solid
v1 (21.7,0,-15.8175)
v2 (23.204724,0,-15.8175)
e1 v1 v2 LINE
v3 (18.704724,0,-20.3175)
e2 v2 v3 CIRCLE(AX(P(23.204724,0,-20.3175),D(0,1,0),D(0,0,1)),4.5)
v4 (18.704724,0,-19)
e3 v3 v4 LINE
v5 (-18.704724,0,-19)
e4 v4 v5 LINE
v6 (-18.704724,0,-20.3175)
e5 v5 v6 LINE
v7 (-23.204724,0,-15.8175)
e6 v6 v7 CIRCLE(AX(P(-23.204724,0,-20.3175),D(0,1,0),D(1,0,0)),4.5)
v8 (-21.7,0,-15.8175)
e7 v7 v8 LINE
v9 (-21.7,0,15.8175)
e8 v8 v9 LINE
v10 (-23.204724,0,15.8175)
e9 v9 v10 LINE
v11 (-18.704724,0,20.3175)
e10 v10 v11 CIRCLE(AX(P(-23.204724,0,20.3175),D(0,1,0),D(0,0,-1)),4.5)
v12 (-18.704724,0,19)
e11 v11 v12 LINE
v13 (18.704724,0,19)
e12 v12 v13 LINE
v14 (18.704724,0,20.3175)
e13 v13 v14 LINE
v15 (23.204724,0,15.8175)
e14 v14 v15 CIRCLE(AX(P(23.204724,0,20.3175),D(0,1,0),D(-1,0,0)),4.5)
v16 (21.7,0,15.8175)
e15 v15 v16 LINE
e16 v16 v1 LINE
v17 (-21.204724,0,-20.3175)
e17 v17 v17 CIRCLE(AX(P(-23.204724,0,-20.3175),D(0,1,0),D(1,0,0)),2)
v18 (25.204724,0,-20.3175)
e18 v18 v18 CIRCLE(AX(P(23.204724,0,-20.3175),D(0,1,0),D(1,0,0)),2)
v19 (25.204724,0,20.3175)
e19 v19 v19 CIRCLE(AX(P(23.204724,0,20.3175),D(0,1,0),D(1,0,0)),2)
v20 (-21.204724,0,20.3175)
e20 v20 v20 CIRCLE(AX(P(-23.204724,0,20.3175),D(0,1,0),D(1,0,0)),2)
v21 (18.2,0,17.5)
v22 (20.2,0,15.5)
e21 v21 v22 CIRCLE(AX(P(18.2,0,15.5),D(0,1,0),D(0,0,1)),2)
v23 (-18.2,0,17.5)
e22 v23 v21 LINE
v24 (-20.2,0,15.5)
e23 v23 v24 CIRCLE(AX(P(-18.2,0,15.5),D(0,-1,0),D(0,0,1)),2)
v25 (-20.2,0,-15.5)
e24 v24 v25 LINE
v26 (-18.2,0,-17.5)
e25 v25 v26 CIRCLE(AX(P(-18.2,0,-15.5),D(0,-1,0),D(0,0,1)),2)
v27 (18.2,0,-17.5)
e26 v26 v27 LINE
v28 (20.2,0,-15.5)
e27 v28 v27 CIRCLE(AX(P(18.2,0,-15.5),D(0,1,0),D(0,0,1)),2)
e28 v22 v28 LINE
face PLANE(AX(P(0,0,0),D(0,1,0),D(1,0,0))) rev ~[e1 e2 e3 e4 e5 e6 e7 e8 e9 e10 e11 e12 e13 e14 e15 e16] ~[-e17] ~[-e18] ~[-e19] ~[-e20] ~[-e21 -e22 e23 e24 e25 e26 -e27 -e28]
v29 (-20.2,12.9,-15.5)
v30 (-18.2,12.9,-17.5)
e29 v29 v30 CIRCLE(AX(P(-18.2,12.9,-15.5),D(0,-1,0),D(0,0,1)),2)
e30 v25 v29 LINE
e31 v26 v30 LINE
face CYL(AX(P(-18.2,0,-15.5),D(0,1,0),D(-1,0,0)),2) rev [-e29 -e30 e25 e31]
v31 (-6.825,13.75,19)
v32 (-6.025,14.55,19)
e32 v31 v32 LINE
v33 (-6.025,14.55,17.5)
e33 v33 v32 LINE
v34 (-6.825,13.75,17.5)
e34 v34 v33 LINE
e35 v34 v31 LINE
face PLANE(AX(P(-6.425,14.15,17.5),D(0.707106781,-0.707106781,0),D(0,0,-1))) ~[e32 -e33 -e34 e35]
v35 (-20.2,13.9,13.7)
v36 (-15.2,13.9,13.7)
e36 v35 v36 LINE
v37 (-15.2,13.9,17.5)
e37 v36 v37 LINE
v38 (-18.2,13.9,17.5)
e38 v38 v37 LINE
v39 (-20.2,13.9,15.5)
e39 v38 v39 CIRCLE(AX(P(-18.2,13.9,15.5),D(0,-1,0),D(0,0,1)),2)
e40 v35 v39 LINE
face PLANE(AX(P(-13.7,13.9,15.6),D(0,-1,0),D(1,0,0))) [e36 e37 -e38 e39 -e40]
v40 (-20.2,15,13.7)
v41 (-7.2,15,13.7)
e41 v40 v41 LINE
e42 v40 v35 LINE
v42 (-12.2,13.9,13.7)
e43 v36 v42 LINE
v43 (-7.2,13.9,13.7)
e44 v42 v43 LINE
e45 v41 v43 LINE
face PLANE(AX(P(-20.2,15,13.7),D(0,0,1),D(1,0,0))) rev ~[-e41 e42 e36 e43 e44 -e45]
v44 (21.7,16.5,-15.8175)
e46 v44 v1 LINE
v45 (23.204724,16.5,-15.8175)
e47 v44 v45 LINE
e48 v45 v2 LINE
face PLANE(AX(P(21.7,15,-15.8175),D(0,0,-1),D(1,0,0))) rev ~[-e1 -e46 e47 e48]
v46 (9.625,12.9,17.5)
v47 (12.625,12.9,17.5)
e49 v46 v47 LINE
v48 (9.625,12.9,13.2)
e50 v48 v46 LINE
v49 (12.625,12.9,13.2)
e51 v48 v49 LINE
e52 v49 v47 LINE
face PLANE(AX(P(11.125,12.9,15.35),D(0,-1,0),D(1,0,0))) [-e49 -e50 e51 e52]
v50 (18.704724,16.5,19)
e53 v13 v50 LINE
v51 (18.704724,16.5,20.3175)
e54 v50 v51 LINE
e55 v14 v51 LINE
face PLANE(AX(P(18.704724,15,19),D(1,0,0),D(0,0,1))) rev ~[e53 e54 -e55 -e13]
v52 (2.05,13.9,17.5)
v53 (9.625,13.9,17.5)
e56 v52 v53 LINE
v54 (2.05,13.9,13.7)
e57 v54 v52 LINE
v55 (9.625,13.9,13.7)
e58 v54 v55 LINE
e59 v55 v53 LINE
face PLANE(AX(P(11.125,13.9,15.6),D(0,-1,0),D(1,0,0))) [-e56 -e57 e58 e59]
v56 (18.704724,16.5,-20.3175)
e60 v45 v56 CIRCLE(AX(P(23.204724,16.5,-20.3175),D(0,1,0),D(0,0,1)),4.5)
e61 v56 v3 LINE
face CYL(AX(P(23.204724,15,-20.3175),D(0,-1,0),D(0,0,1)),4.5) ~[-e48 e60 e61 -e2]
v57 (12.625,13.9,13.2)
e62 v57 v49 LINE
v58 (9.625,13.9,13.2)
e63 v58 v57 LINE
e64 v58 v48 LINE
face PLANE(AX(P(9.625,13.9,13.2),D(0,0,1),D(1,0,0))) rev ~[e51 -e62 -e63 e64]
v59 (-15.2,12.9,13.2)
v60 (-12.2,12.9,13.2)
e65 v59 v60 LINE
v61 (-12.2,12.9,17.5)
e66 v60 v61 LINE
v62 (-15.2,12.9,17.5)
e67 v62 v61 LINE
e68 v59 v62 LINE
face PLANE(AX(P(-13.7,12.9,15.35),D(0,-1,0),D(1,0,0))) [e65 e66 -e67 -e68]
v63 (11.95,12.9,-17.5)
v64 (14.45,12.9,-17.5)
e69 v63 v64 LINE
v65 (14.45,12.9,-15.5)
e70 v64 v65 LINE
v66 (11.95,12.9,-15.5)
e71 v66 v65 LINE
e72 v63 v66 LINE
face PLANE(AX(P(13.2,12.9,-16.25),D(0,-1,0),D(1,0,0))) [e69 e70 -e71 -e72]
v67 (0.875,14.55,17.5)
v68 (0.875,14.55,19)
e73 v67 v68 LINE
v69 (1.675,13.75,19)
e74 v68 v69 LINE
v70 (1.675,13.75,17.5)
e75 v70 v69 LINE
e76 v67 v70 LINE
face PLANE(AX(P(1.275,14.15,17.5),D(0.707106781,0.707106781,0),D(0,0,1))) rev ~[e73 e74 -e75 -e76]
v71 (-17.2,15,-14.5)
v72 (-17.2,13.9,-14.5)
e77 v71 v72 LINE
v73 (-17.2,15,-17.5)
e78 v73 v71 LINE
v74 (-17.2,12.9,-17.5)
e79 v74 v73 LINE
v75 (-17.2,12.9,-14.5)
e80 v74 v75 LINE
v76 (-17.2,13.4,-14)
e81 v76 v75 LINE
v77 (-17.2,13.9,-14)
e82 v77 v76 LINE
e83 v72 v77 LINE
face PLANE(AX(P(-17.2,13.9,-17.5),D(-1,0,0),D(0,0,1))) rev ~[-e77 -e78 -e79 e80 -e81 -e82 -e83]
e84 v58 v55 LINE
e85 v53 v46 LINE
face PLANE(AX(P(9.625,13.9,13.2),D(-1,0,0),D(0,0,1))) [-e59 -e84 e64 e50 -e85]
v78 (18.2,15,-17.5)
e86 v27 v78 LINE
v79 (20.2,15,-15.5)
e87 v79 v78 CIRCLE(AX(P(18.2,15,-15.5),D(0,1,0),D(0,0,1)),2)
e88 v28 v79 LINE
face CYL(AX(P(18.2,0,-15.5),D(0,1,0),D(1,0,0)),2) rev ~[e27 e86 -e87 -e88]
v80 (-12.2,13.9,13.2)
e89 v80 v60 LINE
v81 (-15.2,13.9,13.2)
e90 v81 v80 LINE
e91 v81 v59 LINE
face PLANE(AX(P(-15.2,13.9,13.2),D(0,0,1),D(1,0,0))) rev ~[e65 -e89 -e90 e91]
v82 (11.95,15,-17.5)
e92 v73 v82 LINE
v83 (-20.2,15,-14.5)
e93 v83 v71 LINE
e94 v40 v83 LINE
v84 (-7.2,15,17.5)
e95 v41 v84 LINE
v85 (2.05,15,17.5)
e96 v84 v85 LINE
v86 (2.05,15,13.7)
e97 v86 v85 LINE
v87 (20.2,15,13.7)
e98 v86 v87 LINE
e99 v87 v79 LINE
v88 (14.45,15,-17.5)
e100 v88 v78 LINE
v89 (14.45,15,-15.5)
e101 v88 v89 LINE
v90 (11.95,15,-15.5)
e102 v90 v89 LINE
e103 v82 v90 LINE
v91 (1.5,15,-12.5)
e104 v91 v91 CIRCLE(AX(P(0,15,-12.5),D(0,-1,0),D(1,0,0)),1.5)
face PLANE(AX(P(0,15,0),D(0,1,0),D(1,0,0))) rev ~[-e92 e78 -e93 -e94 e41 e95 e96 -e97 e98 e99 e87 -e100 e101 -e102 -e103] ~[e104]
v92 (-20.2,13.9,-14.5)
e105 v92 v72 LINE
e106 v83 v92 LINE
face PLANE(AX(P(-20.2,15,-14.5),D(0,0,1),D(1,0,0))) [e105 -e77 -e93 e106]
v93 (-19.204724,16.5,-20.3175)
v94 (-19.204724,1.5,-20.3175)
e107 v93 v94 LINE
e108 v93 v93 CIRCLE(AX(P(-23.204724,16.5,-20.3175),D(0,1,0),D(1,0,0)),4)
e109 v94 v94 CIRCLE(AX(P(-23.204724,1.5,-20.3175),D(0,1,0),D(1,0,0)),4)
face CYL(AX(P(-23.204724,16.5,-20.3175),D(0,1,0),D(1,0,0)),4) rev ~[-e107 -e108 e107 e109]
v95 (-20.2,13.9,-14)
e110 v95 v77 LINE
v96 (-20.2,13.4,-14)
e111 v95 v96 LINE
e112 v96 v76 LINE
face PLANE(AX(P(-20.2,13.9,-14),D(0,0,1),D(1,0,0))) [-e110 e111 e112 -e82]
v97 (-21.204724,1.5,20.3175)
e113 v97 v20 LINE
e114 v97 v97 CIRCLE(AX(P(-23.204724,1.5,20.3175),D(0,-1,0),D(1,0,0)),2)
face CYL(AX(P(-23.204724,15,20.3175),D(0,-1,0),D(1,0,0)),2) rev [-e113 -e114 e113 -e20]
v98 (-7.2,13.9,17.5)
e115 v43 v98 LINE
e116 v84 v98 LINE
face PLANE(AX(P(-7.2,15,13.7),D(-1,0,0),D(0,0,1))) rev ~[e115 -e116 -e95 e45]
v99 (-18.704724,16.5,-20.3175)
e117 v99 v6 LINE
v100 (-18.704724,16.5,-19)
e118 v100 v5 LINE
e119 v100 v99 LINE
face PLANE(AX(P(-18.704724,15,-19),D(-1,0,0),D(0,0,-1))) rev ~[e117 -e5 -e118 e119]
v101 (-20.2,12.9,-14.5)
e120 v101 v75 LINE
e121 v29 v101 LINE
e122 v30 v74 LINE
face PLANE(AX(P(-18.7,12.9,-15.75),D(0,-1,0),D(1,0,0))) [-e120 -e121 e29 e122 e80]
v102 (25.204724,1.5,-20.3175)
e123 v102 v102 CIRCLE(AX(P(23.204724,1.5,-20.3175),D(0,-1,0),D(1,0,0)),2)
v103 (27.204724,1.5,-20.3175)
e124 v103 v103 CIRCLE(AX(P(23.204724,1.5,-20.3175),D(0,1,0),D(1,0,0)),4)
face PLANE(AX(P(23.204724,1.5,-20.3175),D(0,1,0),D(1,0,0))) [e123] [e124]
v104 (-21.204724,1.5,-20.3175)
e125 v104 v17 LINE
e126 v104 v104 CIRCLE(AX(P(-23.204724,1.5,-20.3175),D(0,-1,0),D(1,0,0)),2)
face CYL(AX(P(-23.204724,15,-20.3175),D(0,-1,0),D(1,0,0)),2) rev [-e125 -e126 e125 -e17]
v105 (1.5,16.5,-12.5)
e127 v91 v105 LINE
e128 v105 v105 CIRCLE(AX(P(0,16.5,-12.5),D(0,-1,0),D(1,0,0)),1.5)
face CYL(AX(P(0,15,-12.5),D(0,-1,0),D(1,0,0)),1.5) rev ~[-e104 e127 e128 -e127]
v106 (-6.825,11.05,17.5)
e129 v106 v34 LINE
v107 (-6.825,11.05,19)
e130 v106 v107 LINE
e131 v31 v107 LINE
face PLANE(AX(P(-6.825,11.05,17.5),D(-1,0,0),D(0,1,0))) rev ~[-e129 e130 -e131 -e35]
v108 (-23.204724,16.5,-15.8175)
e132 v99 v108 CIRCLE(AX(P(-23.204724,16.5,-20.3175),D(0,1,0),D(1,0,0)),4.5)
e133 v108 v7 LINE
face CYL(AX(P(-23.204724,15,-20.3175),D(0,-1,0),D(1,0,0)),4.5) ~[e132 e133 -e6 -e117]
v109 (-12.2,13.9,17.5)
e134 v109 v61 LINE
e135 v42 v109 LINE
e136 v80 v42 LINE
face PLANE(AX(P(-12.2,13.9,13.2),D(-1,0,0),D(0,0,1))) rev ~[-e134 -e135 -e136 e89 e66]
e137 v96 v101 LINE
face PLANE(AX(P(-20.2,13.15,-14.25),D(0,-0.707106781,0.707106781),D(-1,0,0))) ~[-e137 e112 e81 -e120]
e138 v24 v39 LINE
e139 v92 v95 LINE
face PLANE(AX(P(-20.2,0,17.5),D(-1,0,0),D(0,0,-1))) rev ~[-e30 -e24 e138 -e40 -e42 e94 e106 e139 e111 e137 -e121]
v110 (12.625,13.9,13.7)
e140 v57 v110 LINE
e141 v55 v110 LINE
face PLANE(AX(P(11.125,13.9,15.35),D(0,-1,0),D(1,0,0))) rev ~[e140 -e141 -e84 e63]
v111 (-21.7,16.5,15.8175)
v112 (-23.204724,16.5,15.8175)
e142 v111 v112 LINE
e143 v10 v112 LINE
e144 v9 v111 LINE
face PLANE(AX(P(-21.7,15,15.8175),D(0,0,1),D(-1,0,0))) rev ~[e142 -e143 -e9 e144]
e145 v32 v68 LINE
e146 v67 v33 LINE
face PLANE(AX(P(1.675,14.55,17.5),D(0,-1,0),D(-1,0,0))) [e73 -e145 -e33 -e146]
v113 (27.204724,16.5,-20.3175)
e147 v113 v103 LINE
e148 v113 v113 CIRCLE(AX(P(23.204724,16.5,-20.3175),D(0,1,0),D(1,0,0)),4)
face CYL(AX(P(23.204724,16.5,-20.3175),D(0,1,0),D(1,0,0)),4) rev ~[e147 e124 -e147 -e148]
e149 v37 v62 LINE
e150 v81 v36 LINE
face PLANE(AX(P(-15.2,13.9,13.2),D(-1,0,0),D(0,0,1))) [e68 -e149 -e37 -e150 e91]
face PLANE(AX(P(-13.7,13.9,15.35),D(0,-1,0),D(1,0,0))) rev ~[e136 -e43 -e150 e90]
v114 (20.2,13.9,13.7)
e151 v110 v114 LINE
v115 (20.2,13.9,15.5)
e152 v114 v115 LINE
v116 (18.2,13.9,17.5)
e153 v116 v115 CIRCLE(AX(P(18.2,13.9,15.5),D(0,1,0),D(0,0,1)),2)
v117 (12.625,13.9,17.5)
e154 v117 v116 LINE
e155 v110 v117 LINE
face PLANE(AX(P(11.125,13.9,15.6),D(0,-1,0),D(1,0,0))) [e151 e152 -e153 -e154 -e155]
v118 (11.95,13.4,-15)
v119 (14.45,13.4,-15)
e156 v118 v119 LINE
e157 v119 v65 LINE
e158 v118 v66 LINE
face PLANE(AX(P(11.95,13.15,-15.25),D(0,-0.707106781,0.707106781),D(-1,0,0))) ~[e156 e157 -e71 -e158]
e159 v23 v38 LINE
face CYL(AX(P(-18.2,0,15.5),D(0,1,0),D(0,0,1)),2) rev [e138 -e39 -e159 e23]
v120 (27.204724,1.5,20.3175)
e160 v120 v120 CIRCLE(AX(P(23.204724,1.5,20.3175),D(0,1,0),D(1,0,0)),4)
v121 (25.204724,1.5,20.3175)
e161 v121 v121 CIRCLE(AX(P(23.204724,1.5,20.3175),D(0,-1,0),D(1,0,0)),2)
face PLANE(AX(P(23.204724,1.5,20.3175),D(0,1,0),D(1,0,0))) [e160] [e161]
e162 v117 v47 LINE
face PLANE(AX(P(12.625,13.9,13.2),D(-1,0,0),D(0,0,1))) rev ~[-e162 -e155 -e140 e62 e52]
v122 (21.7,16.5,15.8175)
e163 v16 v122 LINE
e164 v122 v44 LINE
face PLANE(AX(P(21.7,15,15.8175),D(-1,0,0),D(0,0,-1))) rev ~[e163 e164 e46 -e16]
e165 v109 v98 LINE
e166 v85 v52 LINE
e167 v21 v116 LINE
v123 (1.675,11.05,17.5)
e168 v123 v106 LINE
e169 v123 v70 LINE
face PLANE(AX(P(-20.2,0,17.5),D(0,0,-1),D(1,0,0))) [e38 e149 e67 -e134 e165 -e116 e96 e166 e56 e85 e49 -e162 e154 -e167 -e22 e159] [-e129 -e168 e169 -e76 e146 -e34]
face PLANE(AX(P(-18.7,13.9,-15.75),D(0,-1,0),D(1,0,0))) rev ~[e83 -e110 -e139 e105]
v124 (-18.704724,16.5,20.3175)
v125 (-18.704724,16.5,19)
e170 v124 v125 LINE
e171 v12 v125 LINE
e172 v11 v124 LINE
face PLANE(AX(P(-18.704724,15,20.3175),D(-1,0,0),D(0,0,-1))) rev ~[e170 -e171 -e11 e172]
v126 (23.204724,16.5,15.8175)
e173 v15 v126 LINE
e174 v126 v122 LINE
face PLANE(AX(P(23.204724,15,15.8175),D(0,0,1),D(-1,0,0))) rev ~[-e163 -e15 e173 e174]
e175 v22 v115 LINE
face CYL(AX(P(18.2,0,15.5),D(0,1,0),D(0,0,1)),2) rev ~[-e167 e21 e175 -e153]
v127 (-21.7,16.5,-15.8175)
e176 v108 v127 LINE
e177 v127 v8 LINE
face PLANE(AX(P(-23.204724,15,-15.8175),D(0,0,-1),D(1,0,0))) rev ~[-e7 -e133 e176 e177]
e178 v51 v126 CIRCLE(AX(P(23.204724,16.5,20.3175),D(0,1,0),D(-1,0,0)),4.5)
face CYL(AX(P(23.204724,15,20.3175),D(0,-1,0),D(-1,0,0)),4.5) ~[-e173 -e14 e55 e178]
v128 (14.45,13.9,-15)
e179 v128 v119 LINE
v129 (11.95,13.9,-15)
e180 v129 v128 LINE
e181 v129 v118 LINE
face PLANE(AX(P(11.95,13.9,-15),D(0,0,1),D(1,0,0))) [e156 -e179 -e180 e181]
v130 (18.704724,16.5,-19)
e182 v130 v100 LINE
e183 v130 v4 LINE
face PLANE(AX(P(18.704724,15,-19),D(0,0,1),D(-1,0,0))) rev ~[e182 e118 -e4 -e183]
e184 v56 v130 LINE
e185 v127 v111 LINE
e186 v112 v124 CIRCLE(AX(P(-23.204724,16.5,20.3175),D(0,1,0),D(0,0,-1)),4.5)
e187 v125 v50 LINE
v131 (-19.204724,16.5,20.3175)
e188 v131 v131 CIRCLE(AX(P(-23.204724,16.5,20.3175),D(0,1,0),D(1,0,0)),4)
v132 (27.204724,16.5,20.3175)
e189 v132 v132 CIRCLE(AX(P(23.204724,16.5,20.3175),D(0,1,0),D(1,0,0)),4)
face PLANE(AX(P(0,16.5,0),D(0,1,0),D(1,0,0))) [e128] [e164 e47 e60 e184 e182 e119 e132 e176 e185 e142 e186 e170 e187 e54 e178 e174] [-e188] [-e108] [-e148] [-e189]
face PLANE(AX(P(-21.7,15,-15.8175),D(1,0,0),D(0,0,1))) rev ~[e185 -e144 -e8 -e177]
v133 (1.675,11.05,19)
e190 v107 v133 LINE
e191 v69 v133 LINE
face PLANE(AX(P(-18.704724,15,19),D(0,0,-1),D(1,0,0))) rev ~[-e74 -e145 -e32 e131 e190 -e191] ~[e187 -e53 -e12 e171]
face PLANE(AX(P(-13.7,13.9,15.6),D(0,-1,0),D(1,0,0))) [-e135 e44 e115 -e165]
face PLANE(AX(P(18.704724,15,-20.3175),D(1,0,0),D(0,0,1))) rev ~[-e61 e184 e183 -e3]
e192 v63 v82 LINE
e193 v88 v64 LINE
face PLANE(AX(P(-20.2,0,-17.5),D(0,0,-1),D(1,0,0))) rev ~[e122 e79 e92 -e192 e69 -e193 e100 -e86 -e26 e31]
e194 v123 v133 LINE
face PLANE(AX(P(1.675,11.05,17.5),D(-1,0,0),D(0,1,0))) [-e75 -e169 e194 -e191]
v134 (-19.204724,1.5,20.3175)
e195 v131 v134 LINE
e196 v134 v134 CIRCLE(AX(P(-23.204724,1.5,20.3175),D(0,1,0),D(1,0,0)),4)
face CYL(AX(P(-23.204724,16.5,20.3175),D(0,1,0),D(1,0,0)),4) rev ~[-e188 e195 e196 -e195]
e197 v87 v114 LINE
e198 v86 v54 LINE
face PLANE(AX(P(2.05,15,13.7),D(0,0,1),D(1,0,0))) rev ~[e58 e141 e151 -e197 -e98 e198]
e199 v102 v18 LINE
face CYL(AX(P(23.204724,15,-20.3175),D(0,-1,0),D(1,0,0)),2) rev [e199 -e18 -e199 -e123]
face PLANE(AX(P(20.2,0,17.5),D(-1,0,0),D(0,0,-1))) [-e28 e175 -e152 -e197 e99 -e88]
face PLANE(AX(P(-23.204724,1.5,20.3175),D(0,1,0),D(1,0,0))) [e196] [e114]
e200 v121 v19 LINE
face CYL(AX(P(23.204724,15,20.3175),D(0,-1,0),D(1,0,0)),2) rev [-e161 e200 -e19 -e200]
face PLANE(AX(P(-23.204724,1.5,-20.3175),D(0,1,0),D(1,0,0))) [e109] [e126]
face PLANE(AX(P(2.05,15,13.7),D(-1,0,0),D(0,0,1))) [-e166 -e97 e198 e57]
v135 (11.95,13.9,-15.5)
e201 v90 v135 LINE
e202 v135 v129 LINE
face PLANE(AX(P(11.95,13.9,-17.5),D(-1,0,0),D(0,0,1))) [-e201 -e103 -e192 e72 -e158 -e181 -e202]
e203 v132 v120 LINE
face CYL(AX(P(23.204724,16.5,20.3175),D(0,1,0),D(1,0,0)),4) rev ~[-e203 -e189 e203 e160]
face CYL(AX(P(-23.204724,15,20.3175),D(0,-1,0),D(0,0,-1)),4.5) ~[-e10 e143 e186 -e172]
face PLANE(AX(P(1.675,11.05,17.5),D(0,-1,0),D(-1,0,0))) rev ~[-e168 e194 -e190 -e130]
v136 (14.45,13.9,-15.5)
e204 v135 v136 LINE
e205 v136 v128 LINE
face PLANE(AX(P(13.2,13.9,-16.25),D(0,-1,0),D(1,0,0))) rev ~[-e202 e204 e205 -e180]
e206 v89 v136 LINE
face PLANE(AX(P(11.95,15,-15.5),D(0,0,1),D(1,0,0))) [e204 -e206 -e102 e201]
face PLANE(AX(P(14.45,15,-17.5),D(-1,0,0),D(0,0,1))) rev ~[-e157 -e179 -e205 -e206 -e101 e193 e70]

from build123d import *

# Parameters (mm, degrees)
SKETCH1_W           = 40.4
SKETCH1_H           = 35
SKETCH1_R           = 2
BOSS_EXTRUDE1_DEPTH = 15
SKETCH2_R           = 2
BOSS_EXTRUDE2_DEPTH = 1.5
SKETCH3_R           = 4
CUT_EXTRUDE1_DEPTH  = 15
SKETCH4_W           = 13
SKETCH4_H           = 3.8
SKETCH4_W_2         = 3
SKETCH4_H_2         = 3
SKETCH4_W_3         = 18.15
SKETCH4_W_4         = 2.5
SKETCH4_H_3         = 2
BOSS_EXTRUDE3_DEPTH = 1.1
SKETCH5_W           = 3
SKETCH5_H           = 3.5
SKETCH5_W_2         = 2.5
SKETCH5_H_2         = 2.5
SKETCH5_H_3         = 4.3
BOSS_EXTRUDE4_DEPTH = 1
CHAMFER1_SIZE       = 0.5
CUT_EXTRUDE2_REACH  = 9.318
SKETCH6_W           = 8.5
SKETCH6_H           = 3.5
CHAMFER2_SIZE       = 0.8
FILLET1_R           = 2
CUT_EXTRUDE3_REACH  = 3.5
SKETCH7_R           = 1.5


with BuildPart() as part:
    # Sketch1 → Boss-Extrude1 (new body)
    with BuildSketch(Plane(origin=(0, 0, 0), x_dir=(1, 0, 0), z_dir=(0, 1, 0))):
        with BuildLine():
            Line((-21.7, 15.817500063), (-21.7, -15.817500063))
            Line((-21.7, -15.817500063), (-23.204723756, -15.817500063))
            ThreePointArc((-23.204723756, -15.817500063), (-26.386704272, -23.499480579), (-18.704723756, -20.317500063))
            Line((-18.704723756, -20.317500063), (-18.704723756, -19))
            Line((-18.704723756, -19), (18.704723756, -19))
            Line((18.704723756, -19), (18.704723756, -20.317500063))
            ThreePointArc((18.704723756, -20.317500063), (26.386704272, -23.499480579), (23.204723756, -15.817500063))
            Line((23.204723756, -15.817500063), (21.7, -15.817500063))
            Line((21.7, -15.817500063), (21.7, 15.817500063))
            Line((21.7, 15.817500063), (23.204723756, 15.817500063))
            ThreePointArc((23.204723756, 15.817500063), (26.386704272, 23.499480579), (18.704723756, 20.317500063))
            Line((18.704723756, 20.317500063), (18.704723756, 19))
            Line((18.704723756, 19), (-18.704723756, 19))
            Line((-18.704723756, 19), (-18.704723756, 20.317500063))
            ThreePointArc((-18.704723756, 20.317500063), (-26.386704272, 23.499480579), (-23.204723756, 15.817500063))
            Line((-23.204723756, 15.817500063), (-21.7, 15.817500063))
        make_face()
        Rectangle(SKETCH1_W, SKETCH1_H, mode=Mode.SUBTRACT)
        with Locations((-23.204723756, 20.317500063)):
            Circle(SKETCH1_R, mode=Mode.SUBTRACT)
        with Locations((-23.204723756, -20.317500063)):
            Circle(SKETCH1_R, mode=Mode.SUBTRACT)
        with Locations((23.204723756, 20.317500063)):
            Circle(SKETCH1_R, mode=Mode.SUBTRACT)
        with Locations((23.204723756, -20.317500063)):
            Circle(SKETCH1_R, mode=Mode.SUBTRACT)
    extrude(amount=BOSS_EXTRUDE1_DEPTH)

    # Sketch2 → Boss-Extrude2 (add)
    with BuildSketch(Plane(origin=(0, 15, 0), x_dir=(1, 0, 0), z_dir=(0, 1, 0))):
        with BuildLine():
            Line((-21.7, 15.817500063), (-21.7, -15.817500063))
            Line((-21.7, -15.817500063), (-23.204723756, -15.817500063))
            ThreePointArc((-23.204723756, -15.817500063), (-26.386704272, -23.499480579), (-18.704723756, -20.317500063))
            Line((-18.704723756, -20.317500063), (-18.704723756, -19))
            Line((-18.704723756, -19), (18.704723756, -19))
            Line((18.704723756, -19), (18.704723756, -20.317500063))
            ThreePointArc((18.704723756, -20.317500063), (26.386704272, -23.499480579), (23.204723756, -15.817500063))
            Line((23.204723756, -15.817500063), (21.7, -15.817500063))
            Line((21.7, -15.817500063), (21.7, 15.817500063))
            Line((21.7, 15.817500063), (23.204723756, 15.817500063))
            ThreePointArc((23.204723756, 15.817500063), (26.386704272, 23.499480579), (18.704723756, 20.317500063))
            Line((18.704723756, 20.317500063), (18.704723756, 19))
            Line((18.704723756, 19), (-18.704723756, 19))
            Line((-18.704723756, 19), (-18.704723756, 20.317500063))
            ThreePointArc((-18.704723756, 20.317500063), (-26.386704272, 23.499480579), (-23.204723756, 15.817500063))
            Line((-23.204723756, 15.817500063), (-21.7, 15.817500063))
        make_face()
        with Locations((23.204723756, -20.317500063)):
            Circle(SKETCH2_R, mode=Mode.SUBTRACT)
        with Locations((23.204723756, 20.317500063)):
            Circle(SKETCH2_R, mode=Mode.SUBTRACT)
        with Locations((-23.204723756, 20.317500063)):
            Circle(SKETCH2_R, mode=Mode.SUBTRACT)
        with Locations((-23.204723756, -20.317500063)):
            Circle(SKETCH2_R, mode=Mode.SUBTRACT)
    extrude(amount=BOSS_EXTRUDE2_DEPTH)

    # Sketch3 → Cut-Extrude1 (cut)
    with BuildSketch(Plane(origin=(0, 16.5, 0), x_dir=(1, 0, 0), z_dir=(0, 1, 0))):
        with Locations((-23.204723756, -20.317500063)):
            Circle(SKETCH3_R)
        with Locations((-23.204723756, 20.317500063)):
            Circle(SKETCH3_R)
        with Locations((23.204723756, 20.317500063)):
            Circle(SKETCH3_R)
        with Locations((23.204723756, -20.317500063)):
            Circle(SKETCH3_R)
    extrude(amount=-CUT_EXTRUDE1_DEPTH, mode=Mode.SUBTRACT)

    # Sketch4 → Boss-Extrude3 (add)
    with BuildSketch(Plane.XZ.offset(-15)):
        with Locations((-13.7, 15.6)):
            Rectangle(SKETCH4_W, SKETCH4_H)
        with Locations((-18.7, -16)):
            Rectangle(SKETCH4_W_2, SKETCH4_H_2)
        with Locations((11.125, 15.6)):
            Rectangle(SKETCH4_W_3, SKETCH4_H)
        with Locations((13.2, -16.5)):
            Rectangle(SKETCH4_W_4, SKETCH4_H_3)
    extrude(amount=BOSS_EXTRUDE3_DEPTH)

    # Sketch5 → Boss-Extrude4 (add)
    with BuildSketch(Plane.XZ.offset(-13.9)):
        with Locations((-18.7, -15.75)):
            Rectangle(SKETCH5_W, SKETCH5_H)
        with Locations((13.2, -16.25)):
            Rectangle(SKETCH5_W_2, SKETCH5_H_2)
        with Locations((-13.7, 15.35)):
            Rectangle(SKETCH5_W, SKETCH5_H_3)
        with Locations((11.125, 15.35)):
            Rectangle(SKETCH5_W, SKETCH5_H_3)
    extrude(amount=BOSS_EXTRUDE4_DEPTH)

    # Chamfer1
    chamfer1_edges = [part.edges().sort_by_distance(p)[0] for p in [
        (-18.7, 12.9, -14),
        (13.2, 12.9, -15),
    ]]
    chamfer(chamfer1_edges, length=CHAMFER1_SIZE)

    # Sketch6 → Cut-Extrude2 (cut, up to next)
    with BuildSketch(Plane(origin=(0, 0, 17.5), x_dir=(-1, 0, 0), z_dir=(0, 0, -1)), mode=Mode.PRIVATE) as cut_extrude2_sk1:
        with Locations((2.575, 12.8)):
            Rectangle(SKETCH6_W, SKETCH6_H)
    cut_extrude2_tool1 = extrude(cut_extrude2_sk1.sketch, amount=-CUT_EXTRUDE2_REACH, mode=Mode.PRIVATE) & part.part
    add(cut_extrude2_tool1.solids().sort_by_distance((-2.575, 12.8, 17.5))[0], mode=Mode.SUBTRACT)

    # Chamfer2
    chamfer2_edges = [part.edges().sort_by_distance(p)[0] for p in [
        (-6.825, 14.55, 18.25),
        (1.675, 14.55, 18.25),
    ]]
    chamfer(chamfer2_edges, length=CHAMFER2_SIZE)

    # Fillet1
    fillet1_edges = [part.edges().sort_by_distance(p)[0] for p in [
        (-20.2, 6.95, 17.5),
        (20.2, 6.95, 17.5),
        (-20.2, 6.45, -17.5),
        (20.2, 7.5, -17.5),
    ]]
    fillet(fillet1_edges, radius=FILLET1_R)

    # Sketch7 → Cut-Extrude3 (cut, up to next)
    with BuildSketch(Plane.XZ.offset(-15), mode=Mode.PRIVATE) as cut_extrude3_sk1:
        with Locations((0, -12.5)):
            Circle(SKETCH7_R)
    cut_extrude3_tool1 = extrude(cut_extrude3_sk1.sketch, amount=-CUT_EXTRUDE3_REACH, mode=Mode.PRIVATE) & part.part
    add(cut_extrude3_tool1.solids().sort_by_distance((0, 15, -12.5))[0], mode=Mode.SUBTRACT)


solid = part.part
